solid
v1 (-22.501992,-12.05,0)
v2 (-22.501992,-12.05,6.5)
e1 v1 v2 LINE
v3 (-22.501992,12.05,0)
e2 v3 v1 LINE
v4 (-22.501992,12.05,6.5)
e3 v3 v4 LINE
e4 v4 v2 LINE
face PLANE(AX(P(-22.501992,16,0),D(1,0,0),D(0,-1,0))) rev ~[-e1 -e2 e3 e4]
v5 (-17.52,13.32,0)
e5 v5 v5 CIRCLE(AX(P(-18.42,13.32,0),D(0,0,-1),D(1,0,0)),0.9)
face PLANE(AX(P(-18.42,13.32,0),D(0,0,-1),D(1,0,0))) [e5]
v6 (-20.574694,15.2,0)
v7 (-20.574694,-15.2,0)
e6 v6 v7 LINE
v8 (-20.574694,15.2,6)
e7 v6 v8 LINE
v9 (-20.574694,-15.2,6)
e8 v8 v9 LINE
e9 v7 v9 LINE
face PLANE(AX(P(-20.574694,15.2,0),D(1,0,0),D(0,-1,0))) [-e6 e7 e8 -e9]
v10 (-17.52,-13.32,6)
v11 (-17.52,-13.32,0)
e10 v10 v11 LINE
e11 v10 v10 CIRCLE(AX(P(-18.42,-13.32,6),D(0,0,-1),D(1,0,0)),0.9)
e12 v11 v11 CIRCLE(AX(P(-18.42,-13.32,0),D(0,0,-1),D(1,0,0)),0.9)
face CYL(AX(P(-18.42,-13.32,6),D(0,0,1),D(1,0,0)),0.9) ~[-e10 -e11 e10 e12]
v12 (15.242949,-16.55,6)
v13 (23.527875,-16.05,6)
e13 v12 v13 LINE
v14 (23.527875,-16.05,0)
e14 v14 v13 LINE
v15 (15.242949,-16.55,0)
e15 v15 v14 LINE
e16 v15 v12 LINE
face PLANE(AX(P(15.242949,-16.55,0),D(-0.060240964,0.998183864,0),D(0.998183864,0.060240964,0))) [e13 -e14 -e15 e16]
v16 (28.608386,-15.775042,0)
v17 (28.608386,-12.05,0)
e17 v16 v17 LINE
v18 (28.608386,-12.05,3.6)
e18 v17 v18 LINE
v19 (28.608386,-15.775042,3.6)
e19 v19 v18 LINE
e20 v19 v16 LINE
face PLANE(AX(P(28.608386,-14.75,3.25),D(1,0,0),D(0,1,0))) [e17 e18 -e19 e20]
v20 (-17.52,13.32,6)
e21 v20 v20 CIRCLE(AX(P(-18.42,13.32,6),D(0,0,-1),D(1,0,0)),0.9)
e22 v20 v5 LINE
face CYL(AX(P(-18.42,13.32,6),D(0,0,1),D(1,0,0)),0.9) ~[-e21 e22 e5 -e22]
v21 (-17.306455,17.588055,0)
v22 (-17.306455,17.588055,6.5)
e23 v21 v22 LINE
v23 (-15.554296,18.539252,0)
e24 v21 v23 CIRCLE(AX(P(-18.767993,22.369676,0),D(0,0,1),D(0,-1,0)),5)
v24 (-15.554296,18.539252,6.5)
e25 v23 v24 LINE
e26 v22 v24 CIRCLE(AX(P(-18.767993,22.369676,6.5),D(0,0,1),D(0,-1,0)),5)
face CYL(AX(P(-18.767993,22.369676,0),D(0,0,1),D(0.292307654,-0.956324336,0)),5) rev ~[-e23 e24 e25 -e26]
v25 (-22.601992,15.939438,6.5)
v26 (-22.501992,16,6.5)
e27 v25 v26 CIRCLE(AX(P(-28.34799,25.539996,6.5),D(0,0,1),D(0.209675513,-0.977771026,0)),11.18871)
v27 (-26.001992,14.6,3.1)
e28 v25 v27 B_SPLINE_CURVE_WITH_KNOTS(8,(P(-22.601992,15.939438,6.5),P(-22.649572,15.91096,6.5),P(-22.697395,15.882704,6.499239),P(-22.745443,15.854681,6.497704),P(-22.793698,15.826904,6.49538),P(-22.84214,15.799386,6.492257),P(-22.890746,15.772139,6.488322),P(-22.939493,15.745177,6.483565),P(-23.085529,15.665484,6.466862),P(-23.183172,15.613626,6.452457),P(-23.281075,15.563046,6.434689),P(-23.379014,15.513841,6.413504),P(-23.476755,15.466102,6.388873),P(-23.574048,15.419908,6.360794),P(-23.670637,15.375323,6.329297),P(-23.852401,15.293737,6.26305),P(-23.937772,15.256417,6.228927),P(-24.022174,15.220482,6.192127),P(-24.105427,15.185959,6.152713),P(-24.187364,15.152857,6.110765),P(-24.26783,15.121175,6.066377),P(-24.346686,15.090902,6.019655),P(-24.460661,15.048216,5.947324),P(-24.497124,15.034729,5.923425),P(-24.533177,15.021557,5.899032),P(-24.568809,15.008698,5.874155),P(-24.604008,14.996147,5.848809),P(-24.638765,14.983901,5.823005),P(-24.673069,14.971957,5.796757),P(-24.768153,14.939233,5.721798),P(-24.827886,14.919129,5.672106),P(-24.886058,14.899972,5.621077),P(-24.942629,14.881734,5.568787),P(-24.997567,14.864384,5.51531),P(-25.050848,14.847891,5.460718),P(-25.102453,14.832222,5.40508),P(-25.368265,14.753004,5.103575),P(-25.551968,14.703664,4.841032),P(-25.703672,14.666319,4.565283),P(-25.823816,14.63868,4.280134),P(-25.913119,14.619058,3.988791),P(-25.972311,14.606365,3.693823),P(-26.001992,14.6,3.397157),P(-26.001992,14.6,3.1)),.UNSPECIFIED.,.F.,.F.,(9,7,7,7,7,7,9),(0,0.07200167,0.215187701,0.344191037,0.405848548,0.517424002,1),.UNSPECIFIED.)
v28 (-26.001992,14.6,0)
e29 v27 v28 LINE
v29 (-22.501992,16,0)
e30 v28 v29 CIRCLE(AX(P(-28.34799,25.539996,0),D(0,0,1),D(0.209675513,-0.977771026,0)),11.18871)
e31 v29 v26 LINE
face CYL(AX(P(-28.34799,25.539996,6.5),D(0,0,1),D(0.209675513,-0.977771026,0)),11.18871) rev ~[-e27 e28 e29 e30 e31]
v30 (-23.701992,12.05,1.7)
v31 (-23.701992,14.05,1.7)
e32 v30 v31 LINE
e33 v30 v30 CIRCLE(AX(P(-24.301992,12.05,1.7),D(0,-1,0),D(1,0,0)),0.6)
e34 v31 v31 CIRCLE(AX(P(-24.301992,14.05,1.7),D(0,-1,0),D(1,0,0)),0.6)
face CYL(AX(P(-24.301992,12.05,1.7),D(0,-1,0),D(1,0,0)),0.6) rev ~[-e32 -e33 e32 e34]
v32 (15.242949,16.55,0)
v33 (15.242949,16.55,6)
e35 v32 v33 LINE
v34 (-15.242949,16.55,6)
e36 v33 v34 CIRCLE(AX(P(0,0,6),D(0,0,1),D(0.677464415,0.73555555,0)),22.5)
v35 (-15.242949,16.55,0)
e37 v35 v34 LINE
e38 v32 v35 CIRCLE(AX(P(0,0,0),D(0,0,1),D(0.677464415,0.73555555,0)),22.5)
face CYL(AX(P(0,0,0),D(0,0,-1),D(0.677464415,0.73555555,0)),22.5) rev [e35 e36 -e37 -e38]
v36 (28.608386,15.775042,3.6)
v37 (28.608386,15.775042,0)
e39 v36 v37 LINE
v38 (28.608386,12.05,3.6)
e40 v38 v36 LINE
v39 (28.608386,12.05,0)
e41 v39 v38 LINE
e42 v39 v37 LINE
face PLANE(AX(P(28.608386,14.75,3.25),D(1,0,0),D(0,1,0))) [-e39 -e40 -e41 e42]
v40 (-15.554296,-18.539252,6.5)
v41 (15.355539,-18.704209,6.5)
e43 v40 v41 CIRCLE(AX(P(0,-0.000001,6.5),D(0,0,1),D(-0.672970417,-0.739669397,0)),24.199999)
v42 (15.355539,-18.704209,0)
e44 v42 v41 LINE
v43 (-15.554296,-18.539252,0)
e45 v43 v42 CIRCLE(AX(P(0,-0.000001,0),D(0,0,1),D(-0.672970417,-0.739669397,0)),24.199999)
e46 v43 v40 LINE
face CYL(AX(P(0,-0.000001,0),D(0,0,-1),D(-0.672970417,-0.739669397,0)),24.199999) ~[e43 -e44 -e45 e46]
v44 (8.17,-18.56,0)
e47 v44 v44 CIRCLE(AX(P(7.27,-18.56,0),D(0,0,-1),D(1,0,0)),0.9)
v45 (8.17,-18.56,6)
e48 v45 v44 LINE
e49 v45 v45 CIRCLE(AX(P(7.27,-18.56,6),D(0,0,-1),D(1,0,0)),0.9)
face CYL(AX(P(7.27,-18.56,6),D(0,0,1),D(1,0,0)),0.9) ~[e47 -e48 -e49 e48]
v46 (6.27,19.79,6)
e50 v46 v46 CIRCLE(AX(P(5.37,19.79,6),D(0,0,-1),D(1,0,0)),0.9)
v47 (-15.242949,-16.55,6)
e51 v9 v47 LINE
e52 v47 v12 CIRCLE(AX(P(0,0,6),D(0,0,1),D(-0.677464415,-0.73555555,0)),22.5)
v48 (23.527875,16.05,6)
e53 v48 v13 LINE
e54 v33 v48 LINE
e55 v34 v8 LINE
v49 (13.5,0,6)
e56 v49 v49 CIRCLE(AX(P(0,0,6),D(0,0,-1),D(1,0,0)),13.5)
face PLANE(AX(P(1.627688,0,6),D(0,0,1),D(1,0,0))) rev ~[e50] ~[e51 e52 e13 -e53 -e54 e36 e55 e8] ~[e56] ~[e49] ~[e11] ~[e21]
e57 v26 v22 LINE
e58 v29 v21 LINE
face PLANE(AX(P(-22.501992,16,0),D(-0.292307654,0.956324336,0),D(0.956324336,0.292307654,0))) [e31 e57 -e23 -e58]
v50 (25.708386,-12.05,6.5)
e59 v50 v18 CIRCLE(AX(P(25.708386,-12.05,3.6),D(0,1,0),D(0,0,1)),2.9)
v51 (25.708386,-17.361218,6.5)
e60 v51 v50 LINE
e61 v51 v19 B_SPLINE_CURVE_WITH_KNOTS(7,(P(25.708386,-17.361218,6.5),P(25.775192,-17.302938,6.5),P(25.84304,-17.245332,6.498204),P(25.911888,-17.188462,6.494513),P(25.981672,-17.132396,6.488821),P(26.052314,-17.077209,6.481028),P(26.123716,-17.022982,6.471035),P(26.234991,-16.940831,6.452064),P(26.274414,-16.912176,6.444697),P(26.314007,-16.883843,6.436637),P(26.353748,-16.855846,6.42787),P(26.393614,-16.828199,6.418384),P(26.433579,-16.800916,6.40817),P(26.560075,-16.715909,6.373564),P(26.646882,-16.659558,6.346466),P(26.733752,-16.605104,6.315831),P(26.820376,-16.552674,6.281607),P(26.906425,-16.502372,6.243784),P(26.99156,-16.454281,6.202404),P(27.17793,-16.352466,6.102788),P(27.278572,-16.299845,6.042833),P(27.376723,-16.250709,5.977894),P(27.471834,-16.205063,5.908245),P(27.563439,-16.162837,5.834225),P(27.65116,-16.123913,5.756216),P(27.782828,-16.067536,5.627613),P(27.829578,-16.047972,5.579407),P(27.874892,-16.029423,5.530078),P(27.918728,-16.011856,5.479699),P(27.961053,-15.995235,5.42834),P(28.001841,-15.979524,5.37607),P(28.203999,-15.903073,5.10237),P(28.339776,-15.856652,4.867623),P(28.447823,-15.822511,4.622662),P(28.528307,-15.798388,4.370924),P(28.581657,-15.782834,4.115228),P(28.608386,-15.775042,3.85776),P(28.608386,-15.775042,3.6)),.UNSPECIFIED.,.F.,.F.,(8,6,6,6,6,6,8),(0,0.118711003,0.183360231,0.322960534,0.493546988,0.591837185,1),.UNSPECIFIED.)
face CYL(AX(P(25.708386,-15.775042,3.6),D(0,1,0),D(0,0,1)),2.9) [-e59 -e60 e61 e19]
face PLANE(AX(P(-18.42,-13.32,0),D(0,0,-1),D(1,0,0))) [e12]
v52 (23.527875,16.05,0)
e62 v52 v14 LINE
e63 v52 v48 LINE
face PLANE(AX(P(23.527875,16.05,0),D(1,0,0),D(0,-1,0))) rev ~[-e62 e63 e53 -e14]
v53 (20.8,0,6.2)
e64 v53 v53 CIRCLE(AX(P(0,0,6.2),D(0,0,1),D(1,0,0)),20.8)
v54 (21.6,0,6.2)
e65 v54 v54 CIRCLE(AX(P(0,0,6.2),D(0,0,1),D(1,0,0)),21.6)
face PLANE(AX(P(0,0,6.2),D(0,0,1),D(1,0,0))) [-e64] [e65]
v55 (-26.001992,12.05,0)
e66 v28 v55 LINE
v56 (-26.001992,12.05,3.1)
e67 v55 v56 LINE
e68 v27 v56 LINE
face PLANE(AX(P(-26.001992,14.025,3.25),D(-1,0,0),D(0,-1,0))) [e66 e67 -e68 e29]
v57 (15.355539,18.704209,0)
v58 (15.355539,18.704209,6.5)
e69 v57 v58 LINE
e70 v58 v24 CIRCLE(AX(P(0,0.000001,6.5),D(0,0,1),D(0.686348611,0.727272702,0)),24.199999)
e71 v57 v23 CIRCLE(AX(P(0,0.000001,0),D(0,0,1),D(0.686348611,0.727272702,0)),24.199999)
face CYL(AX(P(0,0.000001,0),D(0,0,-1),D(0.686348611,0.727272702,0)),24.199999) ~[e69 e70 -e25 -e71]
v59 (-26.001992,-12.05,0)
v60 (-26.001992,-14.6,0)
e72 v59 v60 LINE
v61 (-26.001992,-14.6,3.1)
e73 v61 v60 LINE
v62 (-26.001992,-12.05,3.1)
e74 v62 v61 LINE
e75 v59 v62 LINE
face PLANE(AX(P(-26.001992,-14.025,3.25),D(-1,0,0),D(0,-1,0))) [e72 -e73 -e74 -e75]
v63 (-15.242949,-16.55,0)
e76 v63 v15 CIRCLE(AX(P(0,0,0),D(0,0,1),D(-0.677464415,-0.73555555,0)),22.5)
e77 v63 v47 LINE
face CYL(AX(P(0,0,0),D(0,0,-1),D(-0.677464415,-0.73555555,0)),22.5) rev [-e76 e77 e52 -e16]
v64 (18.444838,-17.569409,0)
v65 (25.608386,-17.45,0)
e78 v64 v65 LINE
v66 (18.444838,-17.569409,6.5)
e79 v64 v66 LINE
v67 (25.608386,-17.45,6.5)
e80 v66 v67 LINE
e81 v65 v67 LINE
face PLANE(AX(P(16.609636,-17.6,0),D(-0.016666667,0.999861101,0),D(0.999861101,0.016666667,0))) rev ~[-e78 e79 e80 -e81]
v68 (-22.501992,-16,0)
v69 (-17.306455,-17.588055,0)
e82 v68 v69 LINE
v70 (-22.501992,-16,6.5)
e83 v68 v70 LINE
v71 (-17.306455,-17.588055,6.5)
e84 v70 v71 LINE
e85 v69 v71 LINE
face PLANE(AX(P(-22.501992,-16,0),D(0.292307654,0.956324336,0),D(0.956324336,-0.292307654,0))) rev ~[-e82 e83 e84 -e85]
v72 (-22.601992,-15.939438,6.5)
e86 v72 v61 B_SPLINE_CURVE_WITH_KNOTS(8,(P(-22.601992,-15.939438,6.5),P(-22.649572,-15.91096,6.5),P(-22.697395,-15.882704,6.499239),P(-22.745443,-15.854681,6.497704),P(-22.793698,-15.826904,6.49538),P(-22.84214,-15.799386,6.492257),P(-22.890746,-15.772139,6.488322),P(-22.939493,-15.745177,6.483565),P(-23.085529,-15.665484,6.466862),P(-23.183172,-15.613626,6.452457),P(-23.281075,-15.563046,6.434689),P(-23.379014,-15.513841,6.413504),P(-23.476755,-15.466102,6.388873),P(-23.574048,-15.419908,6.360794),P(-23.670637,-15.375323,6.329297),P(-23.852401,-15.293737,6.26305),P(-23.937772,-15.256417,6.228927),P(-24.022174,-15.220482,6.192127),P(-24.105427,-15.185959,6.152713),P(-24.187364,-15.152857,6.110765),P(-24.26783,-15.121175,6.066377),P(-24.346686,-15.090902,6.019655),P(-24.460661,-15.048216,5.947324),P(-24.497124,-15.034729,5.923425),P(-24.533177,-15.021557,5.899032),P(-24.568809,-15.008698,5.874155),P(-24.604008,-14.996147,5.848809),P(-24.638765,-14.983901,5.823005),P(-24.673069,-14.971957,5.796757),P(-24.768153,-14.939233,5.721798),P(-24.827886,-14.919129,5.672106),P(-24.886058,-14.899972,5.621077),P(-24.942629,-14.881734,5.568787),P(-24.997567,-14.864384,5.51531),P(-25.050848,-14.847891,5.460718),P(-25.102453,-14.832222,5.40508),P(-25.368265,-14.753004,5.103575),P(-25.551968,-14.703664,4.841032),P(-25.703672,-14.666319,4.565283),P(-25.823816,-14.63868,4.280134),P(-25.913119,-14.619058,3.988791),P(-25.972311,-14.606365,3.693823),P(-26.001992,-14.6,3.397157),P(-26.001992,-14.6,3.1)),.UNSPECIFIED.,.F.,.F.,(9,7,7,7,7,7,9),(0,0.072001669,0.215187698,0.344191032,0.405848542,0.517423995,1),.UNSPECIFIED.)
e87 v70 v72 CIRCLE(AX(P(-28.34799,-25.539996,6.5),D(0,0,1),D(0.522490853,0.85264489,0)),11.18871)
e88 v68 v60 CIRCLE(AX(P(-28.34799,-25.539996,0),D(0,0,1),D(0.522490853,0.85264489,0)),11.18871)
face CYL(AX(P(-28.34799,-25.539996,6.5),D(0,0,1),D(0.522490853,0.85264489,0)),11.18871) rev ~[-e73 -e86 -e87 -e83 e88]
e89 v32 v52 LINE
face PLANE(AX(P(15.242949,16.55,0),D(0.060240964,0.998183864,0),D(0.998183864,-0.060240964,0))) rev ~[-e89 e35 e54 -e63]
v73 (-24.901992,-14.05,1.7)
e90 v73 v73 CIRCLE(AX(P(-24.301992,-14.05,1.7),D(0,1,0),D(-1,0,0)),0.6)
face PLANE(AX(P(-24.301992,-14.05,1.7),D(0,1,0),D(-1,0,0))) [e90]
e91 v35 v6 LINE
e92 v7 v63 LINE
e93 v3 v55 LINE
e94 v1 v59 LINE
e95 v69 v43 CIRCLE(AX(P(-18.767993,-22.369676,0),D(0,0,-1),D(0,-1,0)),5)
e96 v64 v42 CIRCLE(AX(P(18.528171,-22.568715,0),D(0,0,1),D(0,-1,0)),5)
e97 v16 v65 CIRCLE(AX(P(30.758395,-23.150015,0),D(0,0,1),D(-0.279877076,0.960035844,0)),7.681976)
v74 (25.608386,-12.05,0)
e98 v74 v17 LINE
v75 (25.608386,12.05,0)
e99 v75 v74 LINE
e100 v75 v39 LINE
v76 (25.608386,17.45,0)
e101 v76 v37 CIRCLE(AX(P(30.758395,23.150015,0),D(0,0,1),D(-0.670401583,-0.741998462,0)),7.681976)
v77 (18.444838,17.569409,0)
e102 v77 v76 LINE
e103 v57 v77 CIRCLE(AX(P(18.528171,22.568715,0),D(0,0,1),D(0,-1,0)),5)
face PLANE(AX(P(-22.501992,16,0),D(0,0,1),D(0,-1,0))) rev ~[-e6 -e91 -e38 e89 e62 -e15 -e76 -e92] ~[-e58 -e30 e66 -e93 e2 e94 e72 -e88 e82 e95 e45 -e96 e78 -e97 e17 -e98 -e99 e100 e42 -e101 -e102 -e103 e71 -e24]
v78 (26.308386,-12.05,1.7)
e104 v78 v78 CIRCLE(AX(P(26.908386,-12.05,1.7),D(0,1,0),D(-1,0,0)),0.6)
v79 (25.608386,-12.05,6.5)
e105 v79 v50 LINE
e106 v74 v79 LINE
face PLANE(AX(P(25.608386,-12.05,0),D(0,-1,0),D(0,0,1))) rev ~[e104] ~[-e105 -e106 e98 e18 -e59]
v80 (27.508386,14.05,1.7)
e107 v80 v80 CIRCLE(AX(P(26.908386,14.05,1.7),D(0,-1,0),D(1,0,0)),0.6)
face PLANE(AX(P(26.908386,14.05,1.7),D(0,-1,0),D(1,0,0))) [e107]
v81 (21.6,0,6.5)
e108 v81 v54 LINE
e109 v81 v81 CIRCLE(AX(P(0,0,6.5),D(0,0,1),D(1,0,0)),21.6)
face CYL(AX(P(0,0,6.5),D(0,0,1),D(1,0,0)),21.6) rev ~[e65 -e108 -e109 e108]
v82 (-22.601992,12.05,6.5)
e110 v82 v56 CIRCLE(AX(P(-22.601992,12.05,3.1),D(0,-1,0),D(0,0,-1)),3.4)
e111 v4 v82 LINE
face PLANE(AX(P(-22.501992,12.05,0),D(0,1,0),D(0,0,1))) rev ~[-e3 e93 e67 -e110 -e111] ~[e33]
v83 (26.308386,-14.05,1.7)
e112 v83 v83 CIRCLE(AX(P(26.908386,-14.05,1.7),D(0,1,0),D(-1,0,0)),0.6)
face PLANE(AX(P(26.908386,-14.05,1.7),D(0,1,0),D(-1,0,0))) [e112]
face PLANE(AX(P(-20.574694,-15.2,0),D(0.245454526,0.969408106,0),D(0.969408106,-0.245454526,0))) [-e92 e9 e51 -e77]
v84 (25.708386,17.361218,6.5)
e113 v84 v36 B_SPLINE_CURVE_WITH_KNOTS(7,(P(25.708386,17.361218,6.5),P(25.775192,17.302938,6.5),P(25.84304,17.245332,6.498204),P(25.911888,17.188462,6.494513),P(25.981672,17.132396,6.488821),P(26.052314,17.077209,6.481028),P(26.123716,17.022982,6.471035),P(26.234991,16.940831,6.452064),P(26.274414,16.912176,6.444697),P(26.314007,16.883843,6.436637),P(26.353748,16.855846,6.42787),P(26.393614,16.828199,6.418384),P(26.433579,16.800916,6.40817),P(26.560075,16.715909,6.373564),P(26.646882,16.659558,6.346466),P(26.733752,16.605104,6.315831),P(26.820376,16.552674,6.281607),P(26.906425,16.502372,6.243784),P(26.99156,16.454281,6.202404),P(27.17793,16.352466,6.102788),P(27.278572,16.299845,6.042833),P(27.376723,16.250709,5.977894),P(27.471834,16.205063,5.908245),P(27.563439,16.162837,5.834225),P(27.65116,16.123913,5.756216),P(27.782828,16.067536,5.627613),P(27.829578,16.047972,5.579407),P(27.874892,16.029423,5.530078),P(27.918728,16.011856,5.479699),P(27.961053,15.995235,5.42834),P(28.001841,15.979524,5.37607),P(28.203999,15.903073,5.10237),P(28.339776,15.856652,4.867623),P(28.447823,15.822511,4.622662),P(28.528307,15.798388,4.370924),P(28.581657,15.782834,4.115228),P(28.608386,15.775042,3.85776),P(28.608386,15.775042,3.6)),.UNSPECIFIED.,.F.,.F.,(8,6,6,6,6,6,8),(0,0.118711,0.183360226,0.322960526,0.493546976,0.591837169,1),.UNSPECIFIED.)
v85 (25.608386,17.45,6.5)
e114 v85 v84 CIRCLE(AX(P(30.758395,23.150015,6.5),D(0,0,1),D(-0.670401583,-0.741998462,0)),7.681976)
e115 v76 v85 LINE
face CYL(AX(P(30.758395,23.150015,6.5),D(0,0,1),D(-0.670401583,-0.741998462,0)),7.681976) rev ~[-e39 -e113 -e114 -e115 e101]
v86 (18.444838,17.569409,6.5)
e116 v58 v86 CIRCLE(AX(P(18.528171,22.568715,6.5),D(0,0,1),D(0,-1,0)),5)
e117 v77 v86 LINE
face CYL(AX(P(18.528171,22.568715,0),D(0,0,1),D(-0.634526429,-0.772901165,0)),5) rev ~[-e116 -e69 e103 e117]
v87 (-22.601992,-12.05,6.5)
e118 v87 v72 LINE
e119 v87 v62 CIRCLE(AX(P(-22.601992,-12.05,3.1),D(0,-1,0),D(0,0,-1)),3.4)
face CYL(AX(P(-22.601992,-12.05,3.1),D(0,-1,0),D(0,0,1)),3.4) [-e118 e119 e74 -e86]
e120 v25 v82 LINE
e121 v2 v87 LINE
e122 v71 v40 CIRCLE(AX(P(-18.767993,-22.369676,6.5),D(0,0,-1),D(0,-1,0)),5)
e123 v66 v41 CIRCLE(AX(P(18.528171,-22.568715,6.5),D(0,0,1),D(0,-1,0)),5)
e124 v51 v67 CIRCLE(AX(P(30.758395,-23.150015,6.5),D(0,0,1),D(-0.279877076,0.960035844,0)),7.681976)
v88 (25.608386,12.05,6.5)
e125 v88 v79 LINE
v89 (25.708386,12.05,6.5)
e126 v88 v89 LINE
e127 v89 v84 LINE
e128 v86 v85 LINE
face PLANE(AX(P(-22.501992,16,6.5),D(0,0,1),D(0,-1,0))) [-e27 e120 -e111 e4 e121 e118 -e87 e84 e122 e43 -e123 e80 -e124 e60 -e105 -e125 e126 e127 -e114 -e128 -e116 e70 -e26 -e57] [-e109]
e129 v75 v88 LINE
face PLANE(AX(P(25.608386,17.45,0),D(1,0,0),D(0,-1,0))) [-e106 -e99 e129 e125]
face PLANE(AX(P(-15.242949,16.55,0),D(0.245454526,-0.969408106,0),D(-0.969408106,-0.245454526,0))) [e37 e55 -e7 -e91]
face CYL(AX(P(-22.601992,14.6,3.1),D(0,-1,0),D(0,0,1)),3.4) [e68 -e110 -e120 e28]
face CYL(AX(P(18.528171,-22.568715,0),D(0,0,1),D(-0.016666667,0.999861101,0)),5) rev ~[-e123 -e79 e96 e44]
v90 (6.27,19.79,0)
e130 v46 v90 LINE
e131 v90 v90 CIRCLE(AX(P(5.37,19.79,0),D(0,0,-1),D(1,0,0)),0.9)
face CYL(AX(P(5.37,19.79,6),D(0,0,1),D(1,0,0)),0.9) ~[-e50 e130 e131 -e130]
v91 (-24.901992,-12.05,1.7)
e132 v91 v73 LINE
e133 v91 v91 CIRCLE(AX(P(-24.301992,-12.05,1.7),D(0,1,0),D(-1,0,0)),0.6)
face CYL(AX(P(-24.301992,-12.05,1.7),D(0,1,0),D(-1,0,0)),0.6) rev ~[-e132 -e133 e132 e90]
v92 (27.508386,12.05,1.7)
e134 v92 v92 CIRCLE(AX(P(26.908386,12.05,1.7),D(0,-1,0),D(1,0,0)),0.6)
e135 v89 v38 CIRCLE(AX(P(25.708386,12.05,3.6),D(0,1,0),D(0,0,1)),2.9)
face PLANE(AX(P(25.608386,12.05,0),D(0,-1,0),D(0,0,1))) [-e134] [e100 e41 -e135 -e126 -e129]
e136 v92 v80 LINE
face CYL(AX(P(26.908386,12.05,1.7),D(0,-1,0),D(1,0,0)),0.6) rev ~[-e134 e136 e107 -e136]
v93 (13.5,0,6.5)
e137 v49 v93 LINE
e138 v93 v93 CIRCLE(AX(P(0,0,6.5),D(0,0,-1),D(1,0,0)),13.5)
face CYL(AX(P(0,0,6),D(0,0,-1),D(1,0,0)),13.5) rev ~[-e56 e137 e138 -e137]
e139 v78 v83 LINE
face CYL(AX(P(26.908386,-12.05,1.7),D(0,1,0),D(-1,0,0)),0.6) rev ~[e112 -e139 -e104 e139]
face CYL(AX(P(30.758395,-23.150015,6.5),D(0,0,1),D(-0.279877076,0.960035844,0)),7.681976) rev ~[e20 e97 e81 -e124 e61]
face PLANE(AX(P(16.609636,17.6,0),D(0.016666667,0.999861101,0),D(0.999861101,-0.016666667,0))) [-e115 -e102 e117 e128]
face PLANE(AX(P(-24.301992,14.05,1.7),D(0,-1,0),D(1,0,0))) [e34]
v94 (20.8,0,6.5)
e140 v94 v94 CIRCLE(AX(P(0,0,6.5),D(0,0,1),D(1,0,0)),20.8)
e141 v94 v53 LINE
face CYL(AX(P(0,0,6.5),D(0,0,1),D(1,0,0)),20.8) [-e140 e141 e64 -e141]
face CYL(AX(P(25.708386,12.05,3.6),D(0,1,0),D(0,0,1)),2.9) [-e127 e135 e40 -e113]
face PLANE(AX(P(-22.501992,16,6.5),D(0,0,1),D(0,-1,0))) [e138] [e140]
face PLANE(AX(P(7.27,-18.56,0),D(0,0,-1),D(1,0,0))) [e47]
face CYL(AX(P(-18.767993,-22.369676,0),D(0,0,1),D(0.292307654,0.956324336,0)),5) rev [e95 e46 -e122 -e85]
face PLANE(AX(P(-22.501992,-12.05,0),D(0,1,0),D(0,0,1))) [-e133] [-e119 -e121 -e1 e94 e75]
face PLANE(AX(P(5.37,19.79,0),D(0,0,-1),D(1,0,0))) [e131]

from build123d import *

# Parameters (mm, degrees)
PAD_DEPTH       = 6.5
POCKET_DEPTH    = 6
SKETCH002_R     = 13.5
POCKET001_DEPTH = 1
SKETCH003_W     = 5.4
SKETCH003_H     = 6.5
PAD001_DEPTH    = 3
POCKET002_DEPTH = 10
SKETCH008_R     = 0.6
POCKET003_DEPTH = 2
SKETCH009_R     = 0.6
POCKET004_DEPTH = 2
FILLET_R        = 2.9
FILLET001_R     = 2.9
FILLET002_R     = 5
FILLET003_R     = 5
FILLET004_R     = 5
FILLET005_R     = 5
SKETCH010_W     = 3.95
SKETCH010_H     = 6.5
PAD002_DEPTH    = 3.5
POCKET005_DEPTH = 10
SKETCH012_R     = 0.6
POCKET006_DEPTH = 2
SKETCH013_R     = 0.6
POCKET007_DEPTH = 2
FILLET006_R     = 3.4
FILLET007_R     = 3.4
SKETCH014_R     = 21.6
SKETCH014_R_2   = 20.8
POCKET008_DEPTH = 0.3
SKETCH015_R     = 0.9
PAD003_DEPTH    = 6


with BuildPart() as part:
    # Sketch → Pad (new body)
    with BuildSketch(Plane.XY):
        with BuildLine():
            Line((-22.501992, 16), (-22.501992, -16))
            Line((-22.501992, -16), (-16.285883, -17.9))
            ThreePointArc((-16.285883, -17.9), (0.22069, -24.198994), (16.609636, -17.6))
            Line((16.609636, -17.6), (25.608386, -17.45))
            Line((25.608386, 17.45), (25.608386, -17.45))
            Line((16.609636, 17.6), (25.608386, 17.45))
            ThreePointArc((16.609636, 17.6), (0.22069, 24.198994), (-16.285883, 17.9))
            Line((-22.501992, 16), (-16.285883, 17.9))
        make_face()
    extrude(amount=PAD_DEPTH)

    # Sketch001 → Pocket (cut)
    with BuildSketch(Plane.XY):
        with BuildLine():
            Line((-15.242949, 16.55), (-20.574694, 15.2))
            Line((-20.574694, 15.2), (-20.574694, -15.2))
            Line((-20.574694, -15.2), (-15.242949, -16.55))
            ThreePointArc((-15.242949, -16.55), (0, -22.5), (15.242949, -16.55))
            Line((15.242949, -16.55), (23.527875, -16.05))
            Line((23.527875, 16.05), (23.527875, -16.05))
            Line((15.242949, 16.55), (23.527875, 16.05))
            ThreePointArc((15.242949, 16.55), (0, 22.5), (-15.242949, 16.55))
        make_face()
    extrude(amount=POCKET_DEPTH, mode=Mode.SUBTRACT)

    # Sketch002 (on Face19 of Pocket) → Pocket001 (cut)
    with BuildSketch(Plane(origin=(0, 0, 6), x_dir=(1, 0, 0), z_dir=(0, 0, -1))):
        Circle(SKETCH002_R)
    extrude(amount=-POCKET001_DEPTH, mode=Mode.SUBTRACT)

    # Sketch003 (on Face6 of Pocket001) → Pad001 (join)
    with BuildSketch(Plane.YZ.offset(25.608386)):
        with Locations((-14.75, 3.25)):
            Rectangle(SKETCH003_W, SKETCH003_H)
        with Locations((14.75, 3.25)):
            Rectangle(SKETCH003_W, SKETCH003_H)
    extrude(amount=PAD001_DEPTH)

    # Sketch006 → Pocket002 (cut)
    with BuildSketch(Plane.XY.offset(6.5)):
        with BuildLine():
            ThreePointArc((25.608386, 17.45), (27.01354, 16.442644), (28.608386, 15.775042))
            Line((28.608386, 17.45), (28.608386, 15.775042))
            Line((28.608386, 17.45), (25.608386, 17.45))
        make_face()
        with BuildLine():
            ThreePointArc((28.608386, -15.775042), (27.01354, -16.442644), (25.608386, -17.45))
            Line((28.608386, -17.45), (25.608386, -17.45))
            Line((28.608386, -15.775042), (28.608386, -17.45))
        make_face()
    extrude(amount=-POCKET002_DEPTH, mode=Mode.SUBTRACT)

    # Sketch008 (on Face27 of Pocket002) → Pocket003 (cut)
    with BuildSketch(Plane(origin=(0, -12.05, 0), x_dir=(-1, 0, 0), z_dir=(0, 1, 0))):
        with Locations((-26.908386, 1.7)):
            Circle(SKETCH008_R)
    extrude(amount=-POCKET003_DEPTH, mode=Mode.SUBTRACT)

    # Sketch009 (on Face26 of Pocket003) → Pocket004 (cut)
    with BuildSketch(Plane.XZ.offset(-12.05)):
        with Locations((26.908386, 1.7)):
            Circle(SKETCH009_R)
    extrude(amount=-POCKET004_DEPTH, mode=Mode.SUBTRACT)

    # Fillet
    fillet_edges = [part.edges().sort_by_distance(p)[0] for p in [
        (28.608386, -13.912521, 6.5),
    ]]
    fillet(fillet_edges, radius=FILLET_R)

    # Fillet001
    fillet001_edges = [part.edges().sort_by_distance(p)[0] for p in [
        (28.608386, 13.912521, 6.5),
    ]]
    fillet(fillet001_edges, radius=FILLET001_R)

    # Fillet002
    fillet002_edges = [part.edges().sort_by_distance(p)[0] for p in [
        (16.609636, -17.6, 3.25),
    ]]
    fillet(fillet002_edges, radius=FILLET002_R)

    # Fillet003
    fillet003_edges = [part.edges().sort_by_distance(p)[0] for p in [
        (16.609636, 17.6, 3.25),
    ]]
    fillet(fillet003_edges, radius=FILLET003_R)

    # Fillet004
    fillet004_edges = [part.edges().sort_by_distance(p)[0] for p in [
        (-16.285883, -17.9, 3.25),
    ]]
    fillet(fillet004_edges, radius=FILLET004_R)

    # Fillet005
    fillet005_edges = [part.edges().sort_by_distance(p)[0] for p in [
        (-16.285883, 17.9, 3.25),
    ]]
    fillet(fillet005_edges, radius=FILLET005_R)

    # Sketch010 (on Face4 of Fillet005) → Pad002 (join)
    with BuildSketch(Plane(origin=(-22.501992, 0, 0), x_dir=(0, -1, 0), z_dir=(-1, 0, 0))):
        with Locations((-14.025, 3.25)):
            Rectangle(SKETCH010_W, SKETCH010_H)
        with Locations((14.025, 3.25)):
            Rectangle(SKETCH010_W, SKETCH010_H)
    extrude(amount=PAD002_DEPTH)

    # Sketch011 (on Face6 of Pad002) → Pocket005 (cut)
    with BuildSketch(Plane.XY.offset(6.5)):
        with BuildLine():
            ThreePointArc((-26.001992, 14.6), (-24.192608, 15.15154), (-22.501992, 16))
            Line((-22.501992, 16), (-26.001992, 16))
            Line((-26.001992, 16), (-26.001992, 14.6))
        make_face()
        with BuildLine():
            ThreePointArc((-22.501992, -16), (-24.192608, -15.15154), (-26.001992, -14.6))
            Line((-26.001992, -14.6), (-26.001992, -16))
            Line((-26.001992, -16), (-22.501992, -16))
        make_face()
    extrude(amount=-POCKET005_DEPTH, mode=Mode.SUBTRACT)

    # Sketch012 (on Face23 of Pocket005) → Pocket006 (cut)
    with BuildSketch(Plane(origin=(0, -12.05, 0), x_dir=(-1, 0, 0), z_dir=(0, 1, 0))):
        with Locations((24.301992, 1.7)):
            Circle(SKETCH012_R)
    extrude(amount=-POCKET006_DEPTH, mode=Mode.SUBTRACT)

    # Sketch013 (on Face21 of Pocket006) → Pocket007 (cut)
    with BuildSketch(Plane.XZ.offset(-12.05)):
        with Locations((-24.301992, 1.7)):
            Circle(SKETCH013_R)
    extrude(amount=-POCKET007_DEPTH, mode=Mode.SUBTRACT)

    # Fillet006
    fillet006_edges = [part.edges().sort_by_distance(p)[0] for p in [
        (-26.001992, 13.325, 6.5),
    ]]
    fillet(fillet006_edges, radius=FILLET006_R)

    # Fillet007
    fillet007_edges = [part.edges().sort_by_distance(p)[0] for p in [
        (-26.001992, -13.325, 6.5),
    ]]
    fillet(fillet007_edges, radius=FILLET007_R)

    # Sketch014 (on Face4 of Fillet007) → Pocket008 (cut)
    with BuildSketch(Plane.XY.offset(6.5)):
        Circle(SKETCH014_R)
        Circle(SKETCH014_R_2, mode=Mode.SUBTRACT)
    extrude(amount=-POCKET008_DEPTH, mode=Mode.SUBTRACT)

    # Sketch015 (on Face55 of Pocket008) → Pad003 (join)
    with BuildSketch(Plane(origin=(0, 0, 6), x_dir=(1, 0, 0), z_dir=(0, 0, -1))):
        with Locations((-18.42, 13.32)):
            Circle(SKETCH015_R)
        with Locations((-18.42, -13.32)):
            Circle(SKETCH015_R)
        with Locations((7.27, 18.56)):
            Circle(SKETCH015_R)
        with Locations((5.37, -19.79)):
            Circle(SKETCH015_R)
    extrude(amount=PAD003_DEPTH)


solid = part.part
